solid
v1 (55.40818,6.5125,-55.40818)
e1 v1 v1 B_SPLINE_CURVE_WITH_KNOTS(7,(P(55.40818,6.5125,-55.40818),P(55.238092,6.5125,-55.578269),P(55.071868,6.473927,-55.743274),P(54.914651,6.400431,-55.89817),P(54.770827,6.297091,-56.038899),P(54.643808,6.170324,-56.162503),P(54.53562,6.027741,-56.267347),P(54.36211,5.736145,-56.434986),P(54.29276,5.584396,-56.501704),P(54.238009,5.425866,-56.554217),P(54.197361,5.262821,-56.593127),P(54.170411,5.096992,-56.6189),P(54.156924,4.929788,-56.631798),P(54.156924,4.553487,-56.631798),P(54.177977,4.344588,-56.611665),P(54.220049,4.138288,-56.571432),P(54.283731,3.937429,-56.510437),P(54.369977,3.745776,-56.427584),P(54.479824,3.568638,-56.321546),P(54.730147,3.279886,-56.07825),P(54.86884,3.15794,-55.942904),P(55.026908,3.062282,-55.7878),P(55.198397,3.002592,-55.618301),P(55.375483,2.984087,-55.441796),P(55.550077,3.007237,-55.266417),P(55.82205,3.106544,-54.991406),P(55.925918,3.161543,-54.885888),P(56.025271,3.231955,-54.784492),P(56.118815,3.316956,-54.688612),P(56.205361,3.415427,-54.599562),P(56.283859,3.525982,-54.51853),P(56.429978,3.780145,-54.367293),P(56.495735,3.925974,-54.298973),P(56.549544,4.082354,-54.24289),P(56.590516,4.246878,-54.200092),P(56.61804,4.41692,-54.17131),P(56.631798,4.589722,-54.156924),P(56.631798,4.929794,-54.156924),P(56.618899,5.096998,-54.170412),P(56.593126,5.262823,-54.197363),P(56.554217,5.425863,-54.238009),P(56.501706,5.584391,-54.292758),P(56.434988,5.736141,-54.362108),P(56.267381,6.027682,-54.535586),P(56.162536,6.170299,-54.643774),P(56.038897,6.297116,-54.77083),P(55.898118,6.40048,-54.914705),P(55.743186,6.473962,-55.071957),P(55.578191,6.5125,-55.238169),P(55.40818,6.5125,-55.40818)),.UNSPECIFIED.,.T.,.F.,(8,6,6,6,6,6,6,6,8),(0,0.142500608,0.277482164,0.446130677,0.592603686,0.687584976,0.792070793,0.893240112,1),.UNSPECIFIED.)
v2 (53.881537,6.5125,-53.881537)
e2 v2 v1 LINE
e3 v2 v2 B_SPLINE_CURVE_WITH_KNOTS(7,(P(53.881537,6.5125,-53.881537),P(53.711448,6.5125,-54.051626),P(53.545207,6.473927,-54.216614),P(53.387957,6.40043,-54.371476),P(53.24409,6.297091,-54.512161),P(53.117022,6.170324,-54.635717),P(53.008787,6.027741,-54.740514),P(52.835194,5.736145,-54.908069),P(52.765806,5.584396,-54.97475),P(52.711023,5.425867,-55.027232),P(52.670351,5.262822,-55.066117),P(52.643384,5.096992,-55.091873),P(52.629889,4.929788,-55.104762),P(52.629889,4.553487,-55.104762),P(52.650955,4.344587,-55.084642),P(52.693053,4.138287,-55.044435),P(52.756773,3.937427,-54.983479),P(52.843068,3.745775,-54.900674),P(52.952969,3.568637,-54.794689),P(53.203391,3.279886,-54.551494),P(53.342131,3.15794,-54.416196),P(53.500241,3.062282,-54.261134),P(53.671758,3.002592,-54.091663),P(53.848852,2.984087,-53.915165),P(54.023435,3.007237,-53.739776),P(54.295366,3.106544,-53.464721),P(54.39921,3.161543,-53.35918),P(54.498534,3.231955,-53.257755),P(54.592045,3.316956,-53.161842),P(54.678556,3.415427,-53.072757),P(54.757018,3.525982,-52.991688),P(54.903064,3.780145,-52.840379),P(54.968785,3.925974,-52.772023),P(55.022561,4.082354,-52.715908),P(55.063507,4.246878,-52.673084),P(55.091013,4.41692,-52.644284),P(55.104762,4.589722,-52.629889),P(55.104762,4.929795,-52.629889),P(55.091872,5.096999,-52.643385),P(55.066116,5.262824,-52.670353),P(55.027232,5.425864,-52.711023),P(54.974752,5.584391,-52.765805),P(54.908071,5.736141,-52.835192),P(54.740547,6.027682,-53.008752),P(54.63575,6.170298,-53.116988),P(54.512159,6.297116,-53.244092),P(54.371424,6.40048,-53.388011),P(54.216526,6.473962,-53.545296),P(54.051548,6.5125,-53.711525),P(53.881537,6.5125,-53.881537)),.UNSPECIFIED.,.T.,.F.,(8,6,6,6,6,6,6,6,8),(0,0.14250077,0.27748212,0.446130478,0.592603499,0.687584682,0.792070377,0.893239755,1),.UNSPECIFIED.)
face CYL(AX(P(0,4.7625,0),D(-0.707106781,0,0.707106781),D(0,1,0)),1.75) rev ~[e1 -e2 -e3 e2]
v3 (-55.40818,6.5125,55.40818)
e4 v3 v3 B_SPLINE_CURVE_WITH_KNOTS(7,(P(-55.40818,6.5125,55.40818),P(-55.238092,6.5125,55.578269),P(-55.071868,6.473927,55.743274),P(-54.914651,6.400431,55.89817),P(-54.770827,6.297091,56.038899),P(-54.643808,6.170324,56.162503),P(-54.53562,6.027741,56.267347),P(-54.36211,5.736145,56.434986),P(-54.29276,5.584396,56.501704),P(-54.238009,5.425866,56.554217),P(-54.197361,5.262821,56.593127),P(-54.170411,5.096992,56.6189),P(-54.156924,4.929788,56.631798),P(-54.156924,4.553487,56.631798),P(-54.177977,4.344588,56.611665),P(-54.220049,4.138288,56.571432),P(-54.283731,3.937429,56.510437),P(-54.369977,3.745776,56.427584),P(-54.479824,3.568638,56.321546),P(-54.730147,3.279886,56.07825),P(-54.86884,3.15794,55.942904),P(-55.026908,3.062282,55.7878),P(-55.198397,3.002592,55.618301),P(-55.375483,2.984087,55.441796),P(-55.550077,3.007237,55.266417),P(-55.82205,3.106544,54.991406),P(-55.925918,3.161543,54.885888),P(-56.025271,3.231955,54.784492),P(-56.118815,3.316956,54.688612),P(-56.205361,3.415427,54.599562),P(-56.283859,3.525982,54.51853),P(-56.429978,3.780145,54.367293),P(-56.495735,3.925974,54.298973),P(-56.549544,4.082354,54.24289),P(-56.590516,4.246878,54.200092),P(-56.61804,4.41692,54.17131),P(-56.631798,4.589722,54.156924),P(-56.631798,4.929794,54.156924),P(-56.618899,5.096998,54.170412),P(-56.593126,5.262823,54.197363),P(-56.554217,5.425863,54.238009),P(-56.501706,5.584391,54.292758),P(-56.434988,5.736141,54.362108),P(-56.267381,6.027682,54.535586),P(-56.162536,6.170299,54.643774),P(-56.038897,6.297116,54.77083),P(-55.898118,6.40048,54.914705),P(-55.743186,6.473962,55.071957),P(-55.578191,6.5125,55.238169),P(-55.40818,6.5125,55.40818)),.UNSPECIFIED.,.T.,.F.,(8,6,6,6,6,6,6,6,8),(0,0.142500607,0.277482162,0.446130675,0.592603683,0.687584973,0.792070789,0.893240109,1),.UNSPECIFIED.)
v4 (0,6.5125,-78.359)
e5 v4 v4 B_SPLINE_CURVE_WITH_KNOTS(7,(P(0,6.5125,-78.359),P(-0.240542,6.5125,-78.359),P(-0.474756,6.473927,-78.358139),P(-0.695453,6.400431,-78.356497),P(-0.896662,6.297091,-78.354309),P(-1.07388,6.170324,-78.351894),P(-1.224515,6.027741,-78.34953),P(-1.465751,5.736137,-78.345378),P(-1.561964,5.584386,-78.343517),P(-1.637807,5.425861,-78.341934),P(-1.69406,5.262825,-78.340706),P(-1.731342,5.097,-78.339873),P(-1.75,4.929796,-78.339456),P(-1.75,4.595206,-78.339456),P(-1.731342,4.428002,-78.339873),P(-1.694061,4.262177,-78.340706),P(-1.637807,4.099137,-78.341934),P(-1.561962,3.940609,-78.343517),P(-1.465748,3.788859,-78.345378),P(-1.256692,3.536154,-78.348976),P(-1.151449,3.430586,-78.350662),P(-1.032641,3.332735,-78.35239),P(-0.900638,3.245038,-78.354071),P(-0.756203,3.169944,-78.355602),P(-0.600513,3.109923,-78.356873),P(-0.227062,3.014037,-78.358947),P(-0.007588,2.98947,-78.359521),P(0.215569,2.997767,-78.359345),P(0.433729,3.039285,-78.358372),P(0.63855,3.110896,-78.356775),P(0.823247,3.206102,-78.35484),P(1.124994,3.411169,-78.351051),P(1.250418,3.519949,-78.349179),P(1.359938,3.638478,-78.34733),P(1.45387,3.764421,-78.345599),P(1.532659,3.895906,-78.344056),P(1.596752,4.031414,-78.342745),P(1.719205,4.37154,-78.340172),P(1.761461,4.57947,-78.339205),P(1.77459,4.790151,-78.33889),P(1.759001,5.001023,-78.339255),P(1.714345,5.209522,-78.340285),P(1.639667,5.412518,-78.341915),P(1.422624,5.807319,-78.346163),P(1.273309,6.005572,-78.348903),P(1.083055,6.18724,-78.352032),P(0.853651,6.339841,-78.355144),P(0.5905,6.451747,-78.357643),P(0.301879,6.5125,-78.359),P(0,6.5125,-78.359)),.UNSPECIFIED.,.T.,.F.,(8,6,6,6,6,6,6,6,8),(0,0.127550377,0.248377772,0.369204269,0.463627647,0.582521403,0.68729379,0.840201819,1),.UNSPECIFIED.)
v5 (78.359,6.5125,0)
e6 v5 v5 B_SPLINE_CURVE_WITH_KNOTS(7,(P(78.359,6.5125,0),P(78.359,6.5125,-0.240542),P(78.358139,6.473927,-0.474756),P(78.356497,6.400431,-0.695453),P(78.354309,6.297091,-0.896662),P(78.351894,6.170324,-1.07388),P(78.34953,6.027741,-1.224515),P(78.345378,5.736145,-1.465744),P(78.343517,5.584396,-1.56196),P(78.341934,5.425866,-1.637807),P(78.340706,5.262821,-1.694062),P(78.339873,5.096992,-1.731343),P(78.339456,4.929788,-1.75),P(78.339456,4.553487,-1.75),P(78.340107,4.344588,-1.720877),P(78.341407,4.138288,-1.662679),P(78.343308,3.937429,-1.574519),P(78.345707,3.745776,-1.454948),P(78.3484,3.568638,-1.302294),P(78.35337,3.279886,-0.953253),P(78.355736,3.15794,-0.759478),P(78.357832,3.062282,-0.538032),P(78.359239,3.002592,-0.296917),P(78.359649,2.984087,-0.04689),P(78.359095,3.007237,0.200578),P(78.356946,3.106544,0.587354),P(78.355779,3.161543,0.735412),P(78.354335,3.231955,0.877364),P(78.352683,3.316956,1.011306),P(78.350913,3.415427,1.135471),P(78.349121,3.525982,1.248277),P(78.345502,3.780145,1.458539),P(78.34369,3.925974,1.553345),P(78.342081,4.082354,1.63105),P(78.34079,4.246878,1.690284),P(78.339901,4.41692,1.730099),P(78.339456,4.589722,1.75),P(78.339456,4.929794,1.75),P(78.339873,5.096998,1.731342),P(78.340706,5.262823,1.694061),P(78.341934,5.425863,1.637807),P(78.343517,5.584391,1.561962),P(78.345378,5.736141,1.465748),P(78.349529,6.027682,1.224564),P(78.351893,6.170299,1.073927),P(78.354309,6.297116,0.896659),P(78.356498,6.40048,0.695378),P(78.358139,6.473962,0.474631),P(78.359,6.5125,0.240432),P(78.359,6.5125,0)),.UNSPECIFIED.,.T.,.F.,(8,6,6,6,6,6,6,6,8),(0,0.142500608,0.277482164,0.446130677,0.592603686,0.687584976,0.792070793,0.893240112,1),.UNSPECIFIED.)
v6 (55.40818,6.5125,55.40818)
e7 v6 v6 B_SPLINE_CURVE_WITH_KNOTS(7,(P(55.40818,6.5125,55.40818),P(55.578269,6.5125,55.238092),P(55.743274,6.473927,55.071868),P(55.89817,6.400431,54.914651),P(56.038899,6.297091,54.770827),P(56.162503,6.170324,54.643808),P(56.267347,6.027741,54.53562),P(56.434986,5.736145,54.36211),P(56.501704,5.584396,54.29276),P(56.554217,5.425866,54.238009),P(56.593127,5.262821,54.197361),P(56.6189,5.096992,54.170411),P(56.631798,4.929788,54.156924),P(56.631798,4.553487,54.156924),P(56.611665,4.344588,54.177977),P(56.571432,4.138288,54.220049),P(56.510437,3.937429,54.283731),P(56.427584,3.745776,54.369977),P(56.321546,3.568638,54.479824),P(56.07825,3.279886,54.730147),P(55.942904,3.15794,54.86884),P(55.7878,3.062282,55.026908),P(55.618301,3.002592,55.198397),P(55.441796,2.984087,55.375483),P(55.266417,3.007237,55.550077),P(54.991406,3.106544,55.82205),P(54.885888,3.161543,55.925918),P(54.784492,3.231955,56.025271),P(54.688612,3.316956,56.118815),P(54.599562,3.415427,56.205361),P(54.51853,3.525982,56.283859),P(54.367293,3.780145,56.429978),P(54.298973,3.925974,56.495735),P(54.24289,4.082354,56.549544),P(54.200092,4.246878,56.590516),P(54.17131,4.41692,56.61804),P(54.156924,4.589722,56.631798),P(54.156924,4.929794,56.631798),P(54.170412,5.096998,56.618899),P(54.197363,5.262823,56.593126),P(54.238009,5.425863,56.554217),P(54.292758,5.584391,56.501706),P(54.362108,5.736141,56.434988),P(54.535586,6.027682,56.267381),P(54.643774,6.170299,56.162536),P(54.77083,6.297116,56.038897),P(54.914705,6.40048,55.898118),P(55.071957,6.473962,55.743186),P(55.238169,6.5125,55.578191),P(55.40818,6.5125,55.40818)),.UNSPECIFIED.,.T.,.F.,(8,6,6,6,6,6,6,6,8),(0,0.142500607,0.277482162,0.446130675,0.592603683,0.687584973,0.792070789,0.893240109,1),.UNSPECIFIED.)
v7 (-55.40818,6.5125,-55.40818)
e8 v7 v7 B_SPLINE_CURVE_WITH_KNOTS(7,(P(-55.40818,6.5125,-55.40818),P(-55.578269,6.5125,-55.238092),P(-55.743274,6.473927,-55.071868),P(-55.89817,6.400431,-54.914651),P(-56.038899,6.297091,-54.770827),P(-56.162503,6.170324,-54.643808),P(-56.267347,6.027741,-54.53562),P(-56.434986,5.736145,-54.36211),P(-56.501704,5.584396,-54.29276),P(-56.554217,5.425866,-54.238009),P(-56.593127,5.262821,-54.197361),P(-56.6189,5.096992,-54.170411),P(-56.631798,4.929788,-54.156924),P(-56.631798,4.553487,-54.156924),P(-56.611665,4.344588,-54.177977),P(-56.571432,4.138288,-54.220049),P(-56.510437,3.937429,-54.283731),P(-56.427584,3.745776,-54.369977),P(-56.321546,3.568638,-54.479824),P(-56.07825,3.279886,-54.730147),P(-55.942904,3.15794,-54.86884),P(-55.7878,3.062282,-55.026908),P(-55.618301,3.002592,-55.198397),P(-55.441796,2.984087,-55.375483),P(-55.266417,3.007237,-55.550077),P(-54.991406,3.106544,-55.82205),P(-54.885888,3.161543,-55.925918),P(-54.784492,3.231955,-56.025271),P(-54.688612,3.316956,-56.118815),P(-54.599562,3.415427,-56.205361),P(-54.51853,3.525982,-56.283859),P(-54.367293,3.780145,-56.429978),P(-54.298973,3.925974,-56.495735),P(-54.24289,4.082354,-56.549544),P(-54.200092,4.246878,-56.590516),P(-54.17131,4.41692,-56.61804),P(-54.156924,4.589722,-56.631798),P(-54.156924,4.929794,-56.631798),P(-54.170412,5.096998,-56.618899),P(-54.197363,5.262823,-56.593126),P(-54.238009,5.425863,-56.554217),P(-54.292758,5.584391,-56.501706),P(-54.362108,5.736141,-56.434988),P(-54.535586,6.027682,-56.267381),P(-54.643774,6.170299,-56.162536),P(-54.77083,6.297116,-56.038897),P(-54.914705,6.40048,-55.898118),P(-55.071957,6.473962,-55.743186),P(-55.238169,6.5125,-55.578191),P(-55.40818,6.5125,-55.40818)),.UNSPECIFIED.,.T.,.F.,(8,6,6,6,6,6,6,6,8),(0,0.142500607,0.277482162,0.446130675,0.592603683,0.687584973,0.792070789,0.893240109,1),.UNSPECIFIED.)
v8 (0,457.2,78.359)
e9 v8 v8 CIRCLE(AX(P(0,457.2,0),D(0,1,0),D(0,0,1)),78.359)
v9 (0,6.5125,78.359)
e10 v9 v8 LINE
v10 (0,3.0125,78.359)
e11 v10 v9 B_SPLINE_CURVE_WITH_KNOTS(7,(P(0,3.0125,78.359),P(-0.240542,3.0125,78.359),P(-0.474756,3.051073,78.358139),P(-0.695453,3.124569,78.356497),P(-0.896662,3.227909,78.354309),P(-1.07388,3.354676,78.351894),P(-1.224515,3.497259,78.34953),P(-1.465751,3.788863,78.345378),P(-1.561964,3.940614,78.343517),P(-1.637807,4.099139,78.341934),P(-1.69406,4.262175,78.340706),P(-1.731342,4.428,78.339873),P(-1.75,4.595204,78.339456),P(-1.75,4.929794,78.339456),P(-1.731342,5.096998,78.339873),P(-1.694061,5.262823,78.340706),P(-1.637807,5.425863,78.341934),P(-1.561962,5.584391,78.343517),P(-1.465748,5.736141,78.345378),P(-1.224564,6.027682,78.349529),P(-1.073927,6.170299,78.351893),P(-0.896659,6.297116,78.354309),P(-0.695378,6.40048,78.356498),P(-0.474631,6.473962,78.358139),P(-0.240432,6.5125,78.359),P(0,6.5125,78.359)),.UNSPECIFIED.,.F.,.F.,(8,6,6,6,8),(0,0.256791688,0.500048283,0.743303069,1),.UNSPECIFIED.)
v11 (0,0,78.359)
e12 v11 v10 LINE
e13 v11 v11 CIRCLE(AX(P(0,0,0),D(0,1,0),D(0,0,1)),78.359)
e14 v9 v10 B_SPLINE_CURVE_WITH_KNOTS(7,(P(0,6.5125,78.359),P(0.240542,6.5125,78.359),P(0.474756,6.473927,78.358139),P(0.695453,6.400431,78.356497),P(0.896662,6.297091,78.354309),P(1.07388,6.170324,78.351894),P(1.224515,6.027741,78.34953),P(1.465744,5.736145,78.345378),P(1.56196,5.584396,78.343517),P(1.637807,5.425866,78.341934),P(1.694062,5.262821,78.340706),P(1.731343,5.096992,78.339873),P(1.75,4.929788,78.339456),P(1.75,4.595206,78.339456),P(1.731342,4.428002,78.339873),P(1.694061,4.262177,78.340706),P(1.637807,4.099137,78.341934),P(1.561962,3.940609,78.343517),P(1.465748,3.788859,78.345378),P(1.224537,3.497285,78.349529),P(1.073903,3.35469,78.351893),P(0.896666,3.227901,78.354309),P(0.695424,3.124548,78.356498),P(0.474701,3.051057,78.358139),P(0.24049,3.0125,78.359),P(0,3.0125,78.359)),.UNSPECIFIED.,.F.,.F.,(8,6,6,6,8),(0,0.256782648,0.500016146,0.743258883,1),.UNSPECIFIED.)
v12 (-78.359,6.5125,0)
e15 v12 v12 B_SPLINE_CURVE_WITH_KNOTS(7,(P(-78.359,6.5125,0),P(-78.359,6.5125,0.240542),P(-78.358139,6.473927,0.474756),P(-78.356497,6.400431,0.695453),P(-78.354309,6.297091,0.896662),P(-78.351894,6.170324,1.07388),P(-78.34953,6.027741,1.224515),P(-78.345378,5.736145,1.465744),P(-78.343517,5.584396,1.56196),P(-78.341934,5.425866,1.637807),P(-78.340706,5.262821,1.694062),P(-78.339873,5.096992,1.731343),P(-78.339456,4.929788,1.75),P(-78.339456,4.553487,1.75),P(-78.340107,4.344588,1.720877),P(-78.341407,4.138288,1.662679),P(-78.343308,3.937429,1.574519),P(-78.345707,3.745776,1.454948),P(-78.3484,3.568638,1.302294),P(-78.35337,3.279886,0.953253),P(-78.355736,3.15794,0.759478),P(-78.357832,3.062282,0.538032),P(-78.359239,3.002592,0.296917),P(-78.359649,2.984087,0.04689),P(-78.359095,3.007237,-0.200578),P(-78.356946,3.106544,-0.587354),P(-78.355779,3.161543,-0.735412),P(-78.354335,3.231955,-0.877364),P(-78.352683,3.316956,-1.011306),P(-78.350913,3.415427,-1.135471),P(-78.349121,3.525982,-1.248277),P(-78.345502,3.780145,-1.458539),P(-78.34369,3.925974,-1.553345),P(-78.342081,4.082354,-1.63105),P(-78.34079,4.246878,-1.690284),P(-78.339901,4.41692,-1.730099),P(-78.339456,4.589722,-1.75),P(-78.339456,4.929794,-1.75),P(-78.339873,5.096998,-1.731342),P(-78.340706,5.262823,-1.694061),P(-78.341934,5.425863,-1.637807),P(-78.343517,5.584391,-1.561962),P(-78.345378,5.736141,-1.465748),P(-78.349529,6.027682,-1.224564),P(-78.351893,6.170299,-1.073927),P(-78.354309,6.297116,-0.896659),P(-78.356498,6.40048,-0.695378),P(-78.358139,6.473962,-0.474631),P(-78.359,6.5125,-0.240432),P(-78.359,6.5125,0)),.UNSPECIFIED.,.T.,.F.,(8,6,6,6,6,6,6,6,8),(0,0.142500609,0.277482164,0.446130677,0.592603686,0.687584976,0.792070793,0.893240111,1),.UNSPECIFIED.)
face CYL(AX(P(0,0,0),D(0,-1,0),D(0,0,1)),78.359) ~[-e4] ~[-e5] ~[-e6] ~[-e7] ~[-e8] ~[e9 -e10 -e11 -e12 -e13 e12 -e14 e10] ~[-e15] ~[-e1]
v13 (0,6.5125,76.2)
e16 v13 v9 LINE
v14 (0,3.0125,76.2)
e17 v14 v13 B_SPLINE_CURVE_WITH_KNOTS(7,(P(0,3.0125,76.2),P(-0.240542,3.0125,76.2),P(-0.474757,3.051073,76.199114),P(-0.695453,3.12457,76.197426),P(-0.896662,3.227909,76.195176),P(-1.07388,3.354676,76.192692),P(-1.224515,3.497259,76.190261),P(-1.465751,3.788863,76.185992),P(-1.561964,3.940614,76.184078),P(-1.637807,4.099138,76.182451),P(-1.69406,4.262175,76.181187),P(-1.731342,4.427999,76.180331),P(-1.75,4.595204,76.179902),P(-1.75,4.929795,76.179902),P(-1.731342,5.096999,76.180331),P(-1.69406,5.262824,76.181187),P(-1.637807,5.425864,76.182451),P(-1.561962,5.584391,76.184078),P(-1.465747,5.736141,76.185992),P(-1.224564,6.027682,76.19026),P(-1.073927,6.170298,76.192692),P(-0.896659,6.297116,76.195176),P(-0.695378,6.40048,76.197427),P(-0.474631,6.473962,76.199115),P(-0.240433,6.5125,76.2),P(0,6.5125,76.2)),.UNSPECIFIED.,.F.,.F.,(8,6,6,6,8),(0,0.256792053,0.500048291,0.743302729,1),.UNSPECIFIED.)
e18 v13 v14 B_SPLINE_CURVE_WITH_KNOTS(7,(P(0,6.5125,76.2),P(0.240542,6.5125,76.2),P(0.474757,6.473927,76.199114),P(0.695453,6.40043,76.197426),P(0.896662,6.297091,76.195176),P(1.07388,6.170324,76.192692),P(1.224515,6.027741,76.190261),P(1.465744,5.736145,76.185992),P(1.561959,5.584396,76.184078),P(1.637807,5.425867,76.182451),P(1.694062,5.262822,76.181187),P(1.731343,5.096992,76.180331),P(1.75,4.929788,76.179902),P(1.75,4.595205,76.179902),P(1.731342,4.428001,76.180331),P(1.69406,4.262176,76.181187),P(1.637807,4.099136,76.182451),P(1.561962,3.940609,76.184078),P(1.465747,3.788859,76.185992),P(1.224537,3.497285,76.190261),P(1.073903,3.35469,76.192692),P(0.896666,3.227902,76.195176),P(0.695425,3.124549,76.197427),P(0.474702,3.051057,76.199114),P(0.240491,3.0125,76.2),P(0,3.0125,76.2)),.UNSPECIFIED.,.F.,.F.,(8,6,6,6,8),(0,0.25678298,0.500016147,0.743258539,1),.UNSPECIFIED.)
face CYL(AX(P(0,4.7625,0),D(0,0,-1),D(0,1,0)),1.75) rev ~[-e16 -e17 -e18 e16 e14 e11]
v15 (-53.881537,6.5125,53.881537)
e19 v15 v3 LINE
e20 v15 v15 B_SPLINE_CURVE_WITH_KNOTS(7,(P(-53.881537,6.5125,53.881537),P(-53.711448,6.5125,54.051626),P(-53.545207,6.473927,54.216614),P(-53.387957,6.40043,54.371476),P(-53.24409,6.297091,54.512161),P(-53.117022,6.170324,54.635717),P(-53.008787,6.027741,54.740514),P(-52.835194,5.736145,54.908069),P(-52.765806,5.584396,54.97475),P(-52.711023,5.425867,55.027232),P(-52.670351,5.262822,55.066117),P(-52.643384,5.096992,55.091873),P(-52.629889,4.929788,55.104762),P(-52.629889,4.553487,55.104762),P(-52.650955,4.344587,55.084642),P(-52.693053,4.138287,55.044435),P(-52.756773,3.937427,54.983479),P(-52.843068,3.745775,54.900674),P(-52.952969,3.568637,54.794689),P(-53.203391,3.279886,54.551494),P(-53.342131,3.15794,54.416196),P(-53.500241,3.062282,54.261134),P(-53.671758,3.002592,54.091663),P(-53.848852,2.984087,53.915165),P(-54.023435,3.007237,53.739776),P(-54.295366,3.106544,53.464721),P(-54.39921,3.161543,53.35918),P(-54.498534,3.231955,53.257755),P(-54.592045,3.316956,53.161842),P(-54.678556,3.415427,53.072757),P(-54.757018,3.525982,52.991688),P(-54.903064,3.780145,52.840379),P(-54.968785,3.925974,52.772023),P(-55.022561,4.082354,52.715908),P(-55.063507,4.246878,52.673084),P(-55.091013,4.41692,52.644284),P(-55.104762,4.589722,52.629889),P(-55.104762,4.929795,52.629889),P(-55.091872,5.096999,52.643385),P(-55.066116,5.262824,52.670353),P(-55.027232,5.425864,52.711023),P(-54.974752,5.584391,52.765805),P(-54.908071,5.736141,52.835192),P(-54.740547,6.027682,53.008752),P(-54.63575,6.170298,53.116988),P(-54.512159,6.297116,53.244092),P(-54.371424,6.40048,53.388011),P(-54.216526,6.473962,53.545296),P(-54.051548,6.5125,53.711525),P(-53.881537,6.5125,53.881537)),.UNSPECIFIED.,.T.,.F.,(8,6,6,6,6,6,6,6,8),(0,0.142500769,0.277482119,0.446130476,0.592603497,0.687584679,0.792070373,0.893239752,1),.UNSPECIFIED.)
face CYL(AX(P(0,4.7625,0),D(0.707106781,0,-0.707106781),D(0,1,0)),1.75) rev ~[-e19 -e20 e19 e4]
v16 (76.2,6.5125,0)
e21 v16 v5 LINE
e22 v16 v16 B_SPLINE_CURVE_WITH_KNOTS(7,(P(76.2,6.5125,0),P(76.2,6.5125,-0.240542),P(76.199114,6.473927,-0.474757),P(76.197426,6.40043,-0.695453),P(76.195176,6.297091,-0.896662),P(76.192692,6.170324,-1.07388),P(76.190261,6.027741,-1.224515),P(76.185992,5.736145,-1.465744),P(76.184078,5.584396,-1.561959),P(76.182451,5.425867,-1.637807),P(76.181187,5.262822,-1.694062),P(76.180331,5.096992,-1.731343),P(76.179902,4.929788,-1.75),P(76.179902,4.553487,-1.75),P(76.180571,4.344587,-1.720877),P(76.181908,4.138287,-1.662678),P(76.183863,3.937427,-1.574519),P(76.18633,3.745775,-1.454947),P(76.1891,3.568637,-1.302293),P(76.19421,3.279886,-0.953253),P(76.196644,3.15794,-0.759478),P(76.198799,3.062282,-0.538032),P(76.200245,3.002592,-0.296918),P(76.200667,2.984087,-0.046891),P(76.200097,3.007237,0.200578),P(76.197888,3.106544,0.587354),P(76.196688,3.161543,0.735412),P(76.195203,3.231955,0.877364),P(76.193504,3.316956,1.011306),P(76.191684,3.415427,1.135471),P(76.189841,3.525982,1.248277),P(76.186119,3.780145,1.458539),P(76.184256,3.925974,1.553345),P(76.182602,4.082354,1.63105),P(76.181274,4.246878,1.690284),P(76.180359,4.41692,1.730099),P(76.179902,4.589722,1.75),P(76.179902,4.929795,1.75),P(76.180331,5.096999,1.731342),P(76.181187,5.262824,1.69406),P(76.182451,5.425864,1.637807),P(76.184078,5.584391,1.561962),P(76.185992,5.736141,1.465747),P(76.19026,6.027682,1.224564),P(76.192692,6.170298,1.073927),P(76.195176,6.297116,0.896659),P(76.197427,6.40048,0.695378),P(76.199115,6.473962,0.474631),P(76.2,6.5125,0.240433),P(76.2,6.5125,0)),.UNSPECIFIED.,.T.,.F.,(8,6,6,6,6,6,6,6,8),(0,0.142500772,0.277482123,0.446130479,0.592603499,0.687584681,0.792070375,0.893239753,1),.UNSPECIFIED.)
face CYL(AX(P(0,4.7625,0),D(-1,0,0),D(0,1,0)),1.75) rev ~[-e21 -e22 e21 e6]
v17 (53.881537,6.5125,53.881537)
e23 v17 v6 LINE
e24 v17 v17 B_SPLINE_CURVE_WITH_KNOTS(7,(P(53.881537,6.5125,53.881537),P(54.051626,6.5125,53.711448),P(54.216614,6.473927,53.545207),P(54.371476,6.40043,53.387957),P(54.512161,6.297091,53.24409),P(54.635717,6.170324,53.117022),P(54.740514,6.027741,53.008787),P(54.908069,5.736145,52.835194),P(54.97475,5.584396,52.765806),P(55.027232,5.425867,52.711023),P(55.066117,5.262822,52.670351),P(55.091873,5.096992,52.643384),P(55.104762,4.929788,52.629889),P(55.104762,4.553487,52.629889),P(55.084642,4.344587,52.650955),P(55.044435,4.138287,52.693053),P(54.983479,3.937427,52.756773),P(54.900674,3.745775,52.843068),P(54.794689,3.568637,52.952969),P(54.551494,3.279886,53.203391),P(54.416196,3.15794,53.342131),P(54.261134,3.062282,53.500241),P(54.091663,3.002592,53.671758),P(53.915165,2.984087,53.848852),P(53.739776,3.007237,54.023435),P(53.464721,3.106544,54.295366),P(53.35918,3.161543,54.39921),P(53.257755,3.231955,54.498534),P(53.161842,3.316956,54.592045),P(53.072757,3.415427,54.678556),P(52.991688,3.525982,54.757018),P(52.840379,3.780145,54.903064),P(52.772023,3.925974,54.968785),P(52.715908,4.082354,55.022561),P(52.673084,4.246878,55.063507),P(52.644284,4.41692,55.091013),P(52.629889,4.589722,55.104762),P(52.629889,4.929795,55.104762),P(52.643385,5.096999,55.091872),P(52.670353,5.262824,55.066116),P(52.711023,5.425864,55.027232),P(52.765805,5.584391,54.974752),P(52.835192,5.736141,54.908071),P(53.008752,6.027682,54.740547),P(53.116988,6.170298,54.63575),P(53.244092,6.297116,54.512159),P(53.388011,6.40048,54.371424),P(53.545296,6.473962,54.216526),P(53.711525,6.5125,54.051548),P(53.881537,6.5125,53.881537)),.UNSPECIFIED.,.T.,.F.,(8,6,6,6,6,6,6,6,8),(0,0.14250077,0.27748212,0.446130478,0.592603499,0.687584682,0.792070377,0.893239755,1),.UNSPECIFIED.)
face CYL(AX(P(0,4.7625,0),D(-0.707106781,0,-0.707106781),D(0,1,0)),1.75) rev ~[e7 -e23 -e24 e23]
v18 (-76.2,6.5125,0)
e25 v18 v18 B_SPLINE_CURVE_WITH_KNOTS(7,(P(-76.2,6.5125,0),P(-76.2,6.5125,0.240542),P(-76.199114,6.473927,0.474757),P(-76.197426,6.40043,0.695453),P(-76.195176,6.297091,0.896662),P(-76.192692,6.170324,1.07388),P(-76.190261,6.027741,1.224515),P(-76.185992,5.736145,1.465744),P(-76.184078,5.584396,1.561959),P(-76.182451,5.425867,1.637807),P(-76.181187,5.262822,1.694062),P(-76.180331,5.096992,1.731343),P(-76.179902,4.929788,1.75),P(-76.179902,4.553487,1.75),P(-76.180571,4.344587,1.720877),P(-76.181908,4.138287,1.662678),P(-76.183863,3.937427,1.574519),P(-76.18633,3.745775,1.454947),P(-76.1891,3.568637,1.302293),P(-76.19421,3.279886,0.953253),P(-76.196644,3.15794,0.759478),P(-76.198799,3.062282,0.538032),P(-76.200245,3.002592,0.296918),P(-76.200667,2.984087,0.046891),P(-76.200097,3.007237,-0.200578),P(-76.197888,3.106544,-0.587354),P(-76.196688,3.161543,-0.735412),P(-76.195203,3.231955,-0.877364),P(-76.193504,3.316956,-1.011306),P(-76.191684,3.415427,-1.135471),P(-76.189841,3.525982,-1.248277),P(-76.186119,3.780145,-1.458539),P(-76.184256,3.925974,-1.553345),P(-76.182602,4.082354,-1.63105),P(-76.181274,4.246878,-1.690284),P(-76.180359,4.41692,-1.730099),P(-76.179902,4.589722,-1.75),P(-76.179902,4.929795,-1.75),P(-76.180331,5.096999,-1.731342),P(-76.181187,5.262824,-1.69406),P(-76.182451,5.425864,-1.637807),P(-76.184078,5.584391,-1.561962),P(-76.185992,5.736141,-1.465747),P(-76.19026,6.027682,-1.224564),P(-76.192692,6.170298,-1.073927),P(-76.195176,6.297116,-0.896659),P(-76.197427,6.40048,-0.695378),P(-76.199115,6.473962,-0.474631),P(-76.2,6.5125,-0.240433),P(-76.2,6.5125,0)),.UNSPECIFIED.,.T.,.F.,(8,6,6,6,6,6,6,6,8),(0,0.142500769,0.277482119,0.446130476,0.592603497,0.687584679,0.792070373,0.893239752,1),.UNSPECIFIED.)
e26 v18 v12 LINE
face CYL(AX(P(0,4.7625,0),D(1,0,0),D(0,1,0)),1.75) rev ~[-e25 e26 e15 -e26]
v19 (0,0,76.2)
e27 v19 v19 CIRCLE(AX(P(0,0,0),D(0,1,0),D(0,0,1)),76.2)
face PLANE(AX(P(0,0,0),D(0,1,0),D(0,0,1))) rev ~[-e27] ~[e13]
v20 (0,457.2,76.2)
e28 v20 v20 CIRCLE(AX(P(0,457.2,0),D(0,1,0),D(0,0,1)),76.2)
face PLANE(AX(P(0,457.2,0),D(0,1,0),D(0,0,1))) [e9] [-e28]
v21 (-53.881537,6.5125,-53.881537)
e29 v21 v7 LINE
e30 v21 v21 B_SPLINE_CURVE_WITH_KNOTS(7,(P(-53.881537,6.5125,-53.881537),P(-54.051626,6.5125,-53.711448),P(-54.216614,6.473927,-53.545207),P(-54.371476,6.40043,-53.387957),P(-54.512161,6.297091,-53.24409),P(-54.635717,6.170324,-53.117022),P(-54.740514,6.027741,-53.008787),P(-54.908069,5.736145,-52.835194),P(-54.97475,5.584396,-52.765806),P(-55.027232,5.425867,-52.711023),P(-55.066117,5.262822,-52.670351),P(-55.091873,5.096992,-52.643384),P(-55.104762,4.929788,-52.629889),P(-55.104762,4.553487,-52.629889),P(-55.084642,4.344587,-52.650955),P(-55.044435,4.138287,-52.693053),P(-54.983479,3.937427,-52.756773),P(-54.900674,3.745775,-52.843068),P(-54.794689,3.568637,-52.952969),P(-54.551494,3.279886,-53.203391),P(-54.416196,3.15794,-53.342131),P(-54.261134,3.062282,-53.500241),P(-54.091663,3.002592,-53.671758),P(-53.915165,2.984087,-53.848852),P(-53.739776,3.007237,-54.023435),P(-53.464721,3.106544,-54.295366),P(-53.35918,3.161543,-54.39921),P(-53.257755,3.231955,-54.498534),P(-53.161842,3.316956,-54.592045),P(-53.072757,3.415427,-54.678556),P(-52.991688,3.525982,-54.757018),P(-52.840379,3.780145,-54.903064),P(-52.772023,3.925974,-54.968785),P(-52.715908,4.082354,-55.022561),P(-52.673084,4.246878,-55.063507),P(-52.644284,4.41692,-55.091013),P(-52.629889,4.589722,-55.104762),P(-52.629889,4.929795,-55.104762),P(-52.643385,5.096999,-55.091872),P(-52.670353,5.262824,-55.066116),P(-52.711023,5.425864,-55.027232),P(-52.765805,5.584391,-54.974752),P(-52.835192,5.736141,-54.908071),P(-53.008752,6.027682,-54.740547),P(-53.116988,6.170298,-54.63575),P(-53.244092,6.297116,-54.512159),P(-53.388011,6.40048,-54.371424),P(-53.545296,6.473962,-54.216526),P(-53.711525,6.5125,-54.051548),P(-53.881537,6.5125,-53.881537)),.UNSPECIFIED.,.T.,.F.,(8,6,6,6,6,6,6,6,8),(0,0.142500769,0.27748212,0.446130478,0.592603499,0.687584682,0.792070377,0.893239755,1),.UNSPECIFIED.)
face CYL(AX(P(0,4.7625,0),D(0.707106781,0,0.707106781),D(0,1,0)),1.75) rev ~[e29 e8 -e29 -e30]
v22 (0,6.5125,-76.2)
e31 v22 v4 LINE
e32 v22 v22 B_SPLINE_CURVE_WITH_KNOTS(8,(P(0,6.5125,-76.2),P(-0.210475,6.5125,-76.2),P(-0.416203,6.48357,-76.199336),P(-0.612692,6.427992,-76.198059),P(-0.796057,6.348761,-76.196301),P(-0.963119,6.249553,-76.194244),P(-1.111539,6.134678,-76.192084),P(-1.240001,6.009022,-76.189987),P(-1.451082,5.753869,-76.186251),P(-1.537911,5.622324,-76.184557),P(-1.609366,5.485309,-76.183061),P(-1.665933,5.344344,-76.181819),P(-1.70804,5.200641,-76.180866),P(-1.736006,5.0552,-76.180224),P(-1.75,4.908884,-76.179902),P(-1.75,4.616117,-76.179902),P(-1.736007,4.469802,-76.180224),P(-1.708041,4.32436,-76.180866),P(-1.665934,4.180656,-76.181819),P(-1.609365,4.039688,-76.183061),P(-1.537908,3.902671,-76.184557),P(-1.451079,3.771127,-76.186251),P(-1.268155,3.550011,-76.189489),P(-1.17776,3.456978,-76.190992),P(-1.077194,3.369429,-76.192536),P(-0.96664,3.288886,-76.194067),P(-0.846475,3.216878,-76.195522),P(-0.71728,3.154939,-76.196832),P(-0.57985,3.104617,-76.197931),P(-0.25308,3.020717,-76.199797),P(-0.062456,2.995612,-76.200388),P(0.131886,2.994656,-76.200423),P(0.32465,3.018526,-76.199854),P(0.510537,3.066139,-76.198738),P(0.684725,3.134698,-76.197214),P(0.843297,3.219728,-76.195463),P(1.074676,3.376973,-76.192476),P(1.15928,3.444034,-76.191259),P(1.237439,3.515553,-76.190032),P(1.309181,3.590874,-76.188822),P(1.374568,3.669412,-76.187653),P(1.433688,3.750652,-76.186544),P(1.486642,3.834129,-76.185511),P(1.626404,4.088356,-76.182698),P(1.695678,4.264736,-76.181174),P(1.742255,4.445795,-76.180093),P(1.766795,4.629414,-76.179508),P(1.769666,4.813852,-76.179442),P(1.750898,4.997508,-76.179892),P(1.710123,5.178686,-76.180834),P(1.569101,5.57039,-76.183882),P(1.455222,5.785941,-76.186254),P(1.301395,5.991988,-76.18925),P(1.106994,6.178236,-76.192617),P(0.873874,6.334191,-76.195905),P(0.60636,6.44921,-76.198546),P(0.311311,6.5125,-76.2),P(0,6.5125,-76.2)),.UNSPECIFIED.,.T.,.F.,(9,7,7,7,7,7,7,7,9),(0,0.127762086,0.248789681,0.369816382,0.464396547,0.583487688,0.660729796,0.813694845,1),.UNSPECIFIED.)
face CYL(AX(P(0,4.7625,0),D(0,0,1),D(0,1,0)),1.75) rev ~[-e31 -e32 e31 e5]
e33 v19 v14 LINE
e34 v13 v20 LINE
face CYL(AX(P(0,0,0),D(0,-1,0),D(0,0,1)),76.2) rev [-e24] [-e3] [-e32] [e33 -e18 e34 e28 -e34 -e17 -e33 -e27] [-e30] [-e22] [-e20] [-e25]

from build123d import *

# Parameters (mm, degrees)
SKETCH1_R           = 78.359
SKETCH1_R_2         = 76.2
BOSS_EXTRUDE1_DEPTH = 457.2
SKETCH2_R           = 1.750000056
CUT_EXTRUDE1_DEPTH  = 471.438206104
CIRPATTERN1_COUNT   = 8


with BuildPart() as part:
    # Sketch1 → Boss-Extrude1 (new body)
    with BuildSketch(Plane(origin=(0, 0, 0), x_dir=(1, 0, 0), z_dir=(0, 1, 0))):
        with Locations(Location((0, 0, 0), (0, 0, 270))):
            Circle(SKETCH1_R)
        with Locations(Location((0, 0, 0), (0, 0, 270))):
            Circle(SKETCH1_R_2, mode=Mode.SUBTRACT)
    extrude(amount=BOSS_EXTRUDE1_DEPTH)

    # Sketch2 → Cut-Extrude1 (cut, through all)
    with BuildSketch(Plane.XY):
        with Locations(Location((0, 4.7625, 0), (0, 0, 90))):
            Circle(SKETCH2_R)
    cut_extrude1 = extrude(amount=-CUT_EXTRUDE1_DEPTH, mode=Mode.SUBTRACT)

    # CirPattern1: Cut-Extrude1 ×8 about axis
    cirpattern1_axis = Axis((0, 457.2, 0), (0, -1, 0))
    for i in range(1, CIRPATTERN1_COUNT):
        add(cut_extrude1.rotate(cirpattern1_axis, i * 360 / CIRPATTERN1_COUNT), mode=Mode.SUBTRACT)


solid = part.part
